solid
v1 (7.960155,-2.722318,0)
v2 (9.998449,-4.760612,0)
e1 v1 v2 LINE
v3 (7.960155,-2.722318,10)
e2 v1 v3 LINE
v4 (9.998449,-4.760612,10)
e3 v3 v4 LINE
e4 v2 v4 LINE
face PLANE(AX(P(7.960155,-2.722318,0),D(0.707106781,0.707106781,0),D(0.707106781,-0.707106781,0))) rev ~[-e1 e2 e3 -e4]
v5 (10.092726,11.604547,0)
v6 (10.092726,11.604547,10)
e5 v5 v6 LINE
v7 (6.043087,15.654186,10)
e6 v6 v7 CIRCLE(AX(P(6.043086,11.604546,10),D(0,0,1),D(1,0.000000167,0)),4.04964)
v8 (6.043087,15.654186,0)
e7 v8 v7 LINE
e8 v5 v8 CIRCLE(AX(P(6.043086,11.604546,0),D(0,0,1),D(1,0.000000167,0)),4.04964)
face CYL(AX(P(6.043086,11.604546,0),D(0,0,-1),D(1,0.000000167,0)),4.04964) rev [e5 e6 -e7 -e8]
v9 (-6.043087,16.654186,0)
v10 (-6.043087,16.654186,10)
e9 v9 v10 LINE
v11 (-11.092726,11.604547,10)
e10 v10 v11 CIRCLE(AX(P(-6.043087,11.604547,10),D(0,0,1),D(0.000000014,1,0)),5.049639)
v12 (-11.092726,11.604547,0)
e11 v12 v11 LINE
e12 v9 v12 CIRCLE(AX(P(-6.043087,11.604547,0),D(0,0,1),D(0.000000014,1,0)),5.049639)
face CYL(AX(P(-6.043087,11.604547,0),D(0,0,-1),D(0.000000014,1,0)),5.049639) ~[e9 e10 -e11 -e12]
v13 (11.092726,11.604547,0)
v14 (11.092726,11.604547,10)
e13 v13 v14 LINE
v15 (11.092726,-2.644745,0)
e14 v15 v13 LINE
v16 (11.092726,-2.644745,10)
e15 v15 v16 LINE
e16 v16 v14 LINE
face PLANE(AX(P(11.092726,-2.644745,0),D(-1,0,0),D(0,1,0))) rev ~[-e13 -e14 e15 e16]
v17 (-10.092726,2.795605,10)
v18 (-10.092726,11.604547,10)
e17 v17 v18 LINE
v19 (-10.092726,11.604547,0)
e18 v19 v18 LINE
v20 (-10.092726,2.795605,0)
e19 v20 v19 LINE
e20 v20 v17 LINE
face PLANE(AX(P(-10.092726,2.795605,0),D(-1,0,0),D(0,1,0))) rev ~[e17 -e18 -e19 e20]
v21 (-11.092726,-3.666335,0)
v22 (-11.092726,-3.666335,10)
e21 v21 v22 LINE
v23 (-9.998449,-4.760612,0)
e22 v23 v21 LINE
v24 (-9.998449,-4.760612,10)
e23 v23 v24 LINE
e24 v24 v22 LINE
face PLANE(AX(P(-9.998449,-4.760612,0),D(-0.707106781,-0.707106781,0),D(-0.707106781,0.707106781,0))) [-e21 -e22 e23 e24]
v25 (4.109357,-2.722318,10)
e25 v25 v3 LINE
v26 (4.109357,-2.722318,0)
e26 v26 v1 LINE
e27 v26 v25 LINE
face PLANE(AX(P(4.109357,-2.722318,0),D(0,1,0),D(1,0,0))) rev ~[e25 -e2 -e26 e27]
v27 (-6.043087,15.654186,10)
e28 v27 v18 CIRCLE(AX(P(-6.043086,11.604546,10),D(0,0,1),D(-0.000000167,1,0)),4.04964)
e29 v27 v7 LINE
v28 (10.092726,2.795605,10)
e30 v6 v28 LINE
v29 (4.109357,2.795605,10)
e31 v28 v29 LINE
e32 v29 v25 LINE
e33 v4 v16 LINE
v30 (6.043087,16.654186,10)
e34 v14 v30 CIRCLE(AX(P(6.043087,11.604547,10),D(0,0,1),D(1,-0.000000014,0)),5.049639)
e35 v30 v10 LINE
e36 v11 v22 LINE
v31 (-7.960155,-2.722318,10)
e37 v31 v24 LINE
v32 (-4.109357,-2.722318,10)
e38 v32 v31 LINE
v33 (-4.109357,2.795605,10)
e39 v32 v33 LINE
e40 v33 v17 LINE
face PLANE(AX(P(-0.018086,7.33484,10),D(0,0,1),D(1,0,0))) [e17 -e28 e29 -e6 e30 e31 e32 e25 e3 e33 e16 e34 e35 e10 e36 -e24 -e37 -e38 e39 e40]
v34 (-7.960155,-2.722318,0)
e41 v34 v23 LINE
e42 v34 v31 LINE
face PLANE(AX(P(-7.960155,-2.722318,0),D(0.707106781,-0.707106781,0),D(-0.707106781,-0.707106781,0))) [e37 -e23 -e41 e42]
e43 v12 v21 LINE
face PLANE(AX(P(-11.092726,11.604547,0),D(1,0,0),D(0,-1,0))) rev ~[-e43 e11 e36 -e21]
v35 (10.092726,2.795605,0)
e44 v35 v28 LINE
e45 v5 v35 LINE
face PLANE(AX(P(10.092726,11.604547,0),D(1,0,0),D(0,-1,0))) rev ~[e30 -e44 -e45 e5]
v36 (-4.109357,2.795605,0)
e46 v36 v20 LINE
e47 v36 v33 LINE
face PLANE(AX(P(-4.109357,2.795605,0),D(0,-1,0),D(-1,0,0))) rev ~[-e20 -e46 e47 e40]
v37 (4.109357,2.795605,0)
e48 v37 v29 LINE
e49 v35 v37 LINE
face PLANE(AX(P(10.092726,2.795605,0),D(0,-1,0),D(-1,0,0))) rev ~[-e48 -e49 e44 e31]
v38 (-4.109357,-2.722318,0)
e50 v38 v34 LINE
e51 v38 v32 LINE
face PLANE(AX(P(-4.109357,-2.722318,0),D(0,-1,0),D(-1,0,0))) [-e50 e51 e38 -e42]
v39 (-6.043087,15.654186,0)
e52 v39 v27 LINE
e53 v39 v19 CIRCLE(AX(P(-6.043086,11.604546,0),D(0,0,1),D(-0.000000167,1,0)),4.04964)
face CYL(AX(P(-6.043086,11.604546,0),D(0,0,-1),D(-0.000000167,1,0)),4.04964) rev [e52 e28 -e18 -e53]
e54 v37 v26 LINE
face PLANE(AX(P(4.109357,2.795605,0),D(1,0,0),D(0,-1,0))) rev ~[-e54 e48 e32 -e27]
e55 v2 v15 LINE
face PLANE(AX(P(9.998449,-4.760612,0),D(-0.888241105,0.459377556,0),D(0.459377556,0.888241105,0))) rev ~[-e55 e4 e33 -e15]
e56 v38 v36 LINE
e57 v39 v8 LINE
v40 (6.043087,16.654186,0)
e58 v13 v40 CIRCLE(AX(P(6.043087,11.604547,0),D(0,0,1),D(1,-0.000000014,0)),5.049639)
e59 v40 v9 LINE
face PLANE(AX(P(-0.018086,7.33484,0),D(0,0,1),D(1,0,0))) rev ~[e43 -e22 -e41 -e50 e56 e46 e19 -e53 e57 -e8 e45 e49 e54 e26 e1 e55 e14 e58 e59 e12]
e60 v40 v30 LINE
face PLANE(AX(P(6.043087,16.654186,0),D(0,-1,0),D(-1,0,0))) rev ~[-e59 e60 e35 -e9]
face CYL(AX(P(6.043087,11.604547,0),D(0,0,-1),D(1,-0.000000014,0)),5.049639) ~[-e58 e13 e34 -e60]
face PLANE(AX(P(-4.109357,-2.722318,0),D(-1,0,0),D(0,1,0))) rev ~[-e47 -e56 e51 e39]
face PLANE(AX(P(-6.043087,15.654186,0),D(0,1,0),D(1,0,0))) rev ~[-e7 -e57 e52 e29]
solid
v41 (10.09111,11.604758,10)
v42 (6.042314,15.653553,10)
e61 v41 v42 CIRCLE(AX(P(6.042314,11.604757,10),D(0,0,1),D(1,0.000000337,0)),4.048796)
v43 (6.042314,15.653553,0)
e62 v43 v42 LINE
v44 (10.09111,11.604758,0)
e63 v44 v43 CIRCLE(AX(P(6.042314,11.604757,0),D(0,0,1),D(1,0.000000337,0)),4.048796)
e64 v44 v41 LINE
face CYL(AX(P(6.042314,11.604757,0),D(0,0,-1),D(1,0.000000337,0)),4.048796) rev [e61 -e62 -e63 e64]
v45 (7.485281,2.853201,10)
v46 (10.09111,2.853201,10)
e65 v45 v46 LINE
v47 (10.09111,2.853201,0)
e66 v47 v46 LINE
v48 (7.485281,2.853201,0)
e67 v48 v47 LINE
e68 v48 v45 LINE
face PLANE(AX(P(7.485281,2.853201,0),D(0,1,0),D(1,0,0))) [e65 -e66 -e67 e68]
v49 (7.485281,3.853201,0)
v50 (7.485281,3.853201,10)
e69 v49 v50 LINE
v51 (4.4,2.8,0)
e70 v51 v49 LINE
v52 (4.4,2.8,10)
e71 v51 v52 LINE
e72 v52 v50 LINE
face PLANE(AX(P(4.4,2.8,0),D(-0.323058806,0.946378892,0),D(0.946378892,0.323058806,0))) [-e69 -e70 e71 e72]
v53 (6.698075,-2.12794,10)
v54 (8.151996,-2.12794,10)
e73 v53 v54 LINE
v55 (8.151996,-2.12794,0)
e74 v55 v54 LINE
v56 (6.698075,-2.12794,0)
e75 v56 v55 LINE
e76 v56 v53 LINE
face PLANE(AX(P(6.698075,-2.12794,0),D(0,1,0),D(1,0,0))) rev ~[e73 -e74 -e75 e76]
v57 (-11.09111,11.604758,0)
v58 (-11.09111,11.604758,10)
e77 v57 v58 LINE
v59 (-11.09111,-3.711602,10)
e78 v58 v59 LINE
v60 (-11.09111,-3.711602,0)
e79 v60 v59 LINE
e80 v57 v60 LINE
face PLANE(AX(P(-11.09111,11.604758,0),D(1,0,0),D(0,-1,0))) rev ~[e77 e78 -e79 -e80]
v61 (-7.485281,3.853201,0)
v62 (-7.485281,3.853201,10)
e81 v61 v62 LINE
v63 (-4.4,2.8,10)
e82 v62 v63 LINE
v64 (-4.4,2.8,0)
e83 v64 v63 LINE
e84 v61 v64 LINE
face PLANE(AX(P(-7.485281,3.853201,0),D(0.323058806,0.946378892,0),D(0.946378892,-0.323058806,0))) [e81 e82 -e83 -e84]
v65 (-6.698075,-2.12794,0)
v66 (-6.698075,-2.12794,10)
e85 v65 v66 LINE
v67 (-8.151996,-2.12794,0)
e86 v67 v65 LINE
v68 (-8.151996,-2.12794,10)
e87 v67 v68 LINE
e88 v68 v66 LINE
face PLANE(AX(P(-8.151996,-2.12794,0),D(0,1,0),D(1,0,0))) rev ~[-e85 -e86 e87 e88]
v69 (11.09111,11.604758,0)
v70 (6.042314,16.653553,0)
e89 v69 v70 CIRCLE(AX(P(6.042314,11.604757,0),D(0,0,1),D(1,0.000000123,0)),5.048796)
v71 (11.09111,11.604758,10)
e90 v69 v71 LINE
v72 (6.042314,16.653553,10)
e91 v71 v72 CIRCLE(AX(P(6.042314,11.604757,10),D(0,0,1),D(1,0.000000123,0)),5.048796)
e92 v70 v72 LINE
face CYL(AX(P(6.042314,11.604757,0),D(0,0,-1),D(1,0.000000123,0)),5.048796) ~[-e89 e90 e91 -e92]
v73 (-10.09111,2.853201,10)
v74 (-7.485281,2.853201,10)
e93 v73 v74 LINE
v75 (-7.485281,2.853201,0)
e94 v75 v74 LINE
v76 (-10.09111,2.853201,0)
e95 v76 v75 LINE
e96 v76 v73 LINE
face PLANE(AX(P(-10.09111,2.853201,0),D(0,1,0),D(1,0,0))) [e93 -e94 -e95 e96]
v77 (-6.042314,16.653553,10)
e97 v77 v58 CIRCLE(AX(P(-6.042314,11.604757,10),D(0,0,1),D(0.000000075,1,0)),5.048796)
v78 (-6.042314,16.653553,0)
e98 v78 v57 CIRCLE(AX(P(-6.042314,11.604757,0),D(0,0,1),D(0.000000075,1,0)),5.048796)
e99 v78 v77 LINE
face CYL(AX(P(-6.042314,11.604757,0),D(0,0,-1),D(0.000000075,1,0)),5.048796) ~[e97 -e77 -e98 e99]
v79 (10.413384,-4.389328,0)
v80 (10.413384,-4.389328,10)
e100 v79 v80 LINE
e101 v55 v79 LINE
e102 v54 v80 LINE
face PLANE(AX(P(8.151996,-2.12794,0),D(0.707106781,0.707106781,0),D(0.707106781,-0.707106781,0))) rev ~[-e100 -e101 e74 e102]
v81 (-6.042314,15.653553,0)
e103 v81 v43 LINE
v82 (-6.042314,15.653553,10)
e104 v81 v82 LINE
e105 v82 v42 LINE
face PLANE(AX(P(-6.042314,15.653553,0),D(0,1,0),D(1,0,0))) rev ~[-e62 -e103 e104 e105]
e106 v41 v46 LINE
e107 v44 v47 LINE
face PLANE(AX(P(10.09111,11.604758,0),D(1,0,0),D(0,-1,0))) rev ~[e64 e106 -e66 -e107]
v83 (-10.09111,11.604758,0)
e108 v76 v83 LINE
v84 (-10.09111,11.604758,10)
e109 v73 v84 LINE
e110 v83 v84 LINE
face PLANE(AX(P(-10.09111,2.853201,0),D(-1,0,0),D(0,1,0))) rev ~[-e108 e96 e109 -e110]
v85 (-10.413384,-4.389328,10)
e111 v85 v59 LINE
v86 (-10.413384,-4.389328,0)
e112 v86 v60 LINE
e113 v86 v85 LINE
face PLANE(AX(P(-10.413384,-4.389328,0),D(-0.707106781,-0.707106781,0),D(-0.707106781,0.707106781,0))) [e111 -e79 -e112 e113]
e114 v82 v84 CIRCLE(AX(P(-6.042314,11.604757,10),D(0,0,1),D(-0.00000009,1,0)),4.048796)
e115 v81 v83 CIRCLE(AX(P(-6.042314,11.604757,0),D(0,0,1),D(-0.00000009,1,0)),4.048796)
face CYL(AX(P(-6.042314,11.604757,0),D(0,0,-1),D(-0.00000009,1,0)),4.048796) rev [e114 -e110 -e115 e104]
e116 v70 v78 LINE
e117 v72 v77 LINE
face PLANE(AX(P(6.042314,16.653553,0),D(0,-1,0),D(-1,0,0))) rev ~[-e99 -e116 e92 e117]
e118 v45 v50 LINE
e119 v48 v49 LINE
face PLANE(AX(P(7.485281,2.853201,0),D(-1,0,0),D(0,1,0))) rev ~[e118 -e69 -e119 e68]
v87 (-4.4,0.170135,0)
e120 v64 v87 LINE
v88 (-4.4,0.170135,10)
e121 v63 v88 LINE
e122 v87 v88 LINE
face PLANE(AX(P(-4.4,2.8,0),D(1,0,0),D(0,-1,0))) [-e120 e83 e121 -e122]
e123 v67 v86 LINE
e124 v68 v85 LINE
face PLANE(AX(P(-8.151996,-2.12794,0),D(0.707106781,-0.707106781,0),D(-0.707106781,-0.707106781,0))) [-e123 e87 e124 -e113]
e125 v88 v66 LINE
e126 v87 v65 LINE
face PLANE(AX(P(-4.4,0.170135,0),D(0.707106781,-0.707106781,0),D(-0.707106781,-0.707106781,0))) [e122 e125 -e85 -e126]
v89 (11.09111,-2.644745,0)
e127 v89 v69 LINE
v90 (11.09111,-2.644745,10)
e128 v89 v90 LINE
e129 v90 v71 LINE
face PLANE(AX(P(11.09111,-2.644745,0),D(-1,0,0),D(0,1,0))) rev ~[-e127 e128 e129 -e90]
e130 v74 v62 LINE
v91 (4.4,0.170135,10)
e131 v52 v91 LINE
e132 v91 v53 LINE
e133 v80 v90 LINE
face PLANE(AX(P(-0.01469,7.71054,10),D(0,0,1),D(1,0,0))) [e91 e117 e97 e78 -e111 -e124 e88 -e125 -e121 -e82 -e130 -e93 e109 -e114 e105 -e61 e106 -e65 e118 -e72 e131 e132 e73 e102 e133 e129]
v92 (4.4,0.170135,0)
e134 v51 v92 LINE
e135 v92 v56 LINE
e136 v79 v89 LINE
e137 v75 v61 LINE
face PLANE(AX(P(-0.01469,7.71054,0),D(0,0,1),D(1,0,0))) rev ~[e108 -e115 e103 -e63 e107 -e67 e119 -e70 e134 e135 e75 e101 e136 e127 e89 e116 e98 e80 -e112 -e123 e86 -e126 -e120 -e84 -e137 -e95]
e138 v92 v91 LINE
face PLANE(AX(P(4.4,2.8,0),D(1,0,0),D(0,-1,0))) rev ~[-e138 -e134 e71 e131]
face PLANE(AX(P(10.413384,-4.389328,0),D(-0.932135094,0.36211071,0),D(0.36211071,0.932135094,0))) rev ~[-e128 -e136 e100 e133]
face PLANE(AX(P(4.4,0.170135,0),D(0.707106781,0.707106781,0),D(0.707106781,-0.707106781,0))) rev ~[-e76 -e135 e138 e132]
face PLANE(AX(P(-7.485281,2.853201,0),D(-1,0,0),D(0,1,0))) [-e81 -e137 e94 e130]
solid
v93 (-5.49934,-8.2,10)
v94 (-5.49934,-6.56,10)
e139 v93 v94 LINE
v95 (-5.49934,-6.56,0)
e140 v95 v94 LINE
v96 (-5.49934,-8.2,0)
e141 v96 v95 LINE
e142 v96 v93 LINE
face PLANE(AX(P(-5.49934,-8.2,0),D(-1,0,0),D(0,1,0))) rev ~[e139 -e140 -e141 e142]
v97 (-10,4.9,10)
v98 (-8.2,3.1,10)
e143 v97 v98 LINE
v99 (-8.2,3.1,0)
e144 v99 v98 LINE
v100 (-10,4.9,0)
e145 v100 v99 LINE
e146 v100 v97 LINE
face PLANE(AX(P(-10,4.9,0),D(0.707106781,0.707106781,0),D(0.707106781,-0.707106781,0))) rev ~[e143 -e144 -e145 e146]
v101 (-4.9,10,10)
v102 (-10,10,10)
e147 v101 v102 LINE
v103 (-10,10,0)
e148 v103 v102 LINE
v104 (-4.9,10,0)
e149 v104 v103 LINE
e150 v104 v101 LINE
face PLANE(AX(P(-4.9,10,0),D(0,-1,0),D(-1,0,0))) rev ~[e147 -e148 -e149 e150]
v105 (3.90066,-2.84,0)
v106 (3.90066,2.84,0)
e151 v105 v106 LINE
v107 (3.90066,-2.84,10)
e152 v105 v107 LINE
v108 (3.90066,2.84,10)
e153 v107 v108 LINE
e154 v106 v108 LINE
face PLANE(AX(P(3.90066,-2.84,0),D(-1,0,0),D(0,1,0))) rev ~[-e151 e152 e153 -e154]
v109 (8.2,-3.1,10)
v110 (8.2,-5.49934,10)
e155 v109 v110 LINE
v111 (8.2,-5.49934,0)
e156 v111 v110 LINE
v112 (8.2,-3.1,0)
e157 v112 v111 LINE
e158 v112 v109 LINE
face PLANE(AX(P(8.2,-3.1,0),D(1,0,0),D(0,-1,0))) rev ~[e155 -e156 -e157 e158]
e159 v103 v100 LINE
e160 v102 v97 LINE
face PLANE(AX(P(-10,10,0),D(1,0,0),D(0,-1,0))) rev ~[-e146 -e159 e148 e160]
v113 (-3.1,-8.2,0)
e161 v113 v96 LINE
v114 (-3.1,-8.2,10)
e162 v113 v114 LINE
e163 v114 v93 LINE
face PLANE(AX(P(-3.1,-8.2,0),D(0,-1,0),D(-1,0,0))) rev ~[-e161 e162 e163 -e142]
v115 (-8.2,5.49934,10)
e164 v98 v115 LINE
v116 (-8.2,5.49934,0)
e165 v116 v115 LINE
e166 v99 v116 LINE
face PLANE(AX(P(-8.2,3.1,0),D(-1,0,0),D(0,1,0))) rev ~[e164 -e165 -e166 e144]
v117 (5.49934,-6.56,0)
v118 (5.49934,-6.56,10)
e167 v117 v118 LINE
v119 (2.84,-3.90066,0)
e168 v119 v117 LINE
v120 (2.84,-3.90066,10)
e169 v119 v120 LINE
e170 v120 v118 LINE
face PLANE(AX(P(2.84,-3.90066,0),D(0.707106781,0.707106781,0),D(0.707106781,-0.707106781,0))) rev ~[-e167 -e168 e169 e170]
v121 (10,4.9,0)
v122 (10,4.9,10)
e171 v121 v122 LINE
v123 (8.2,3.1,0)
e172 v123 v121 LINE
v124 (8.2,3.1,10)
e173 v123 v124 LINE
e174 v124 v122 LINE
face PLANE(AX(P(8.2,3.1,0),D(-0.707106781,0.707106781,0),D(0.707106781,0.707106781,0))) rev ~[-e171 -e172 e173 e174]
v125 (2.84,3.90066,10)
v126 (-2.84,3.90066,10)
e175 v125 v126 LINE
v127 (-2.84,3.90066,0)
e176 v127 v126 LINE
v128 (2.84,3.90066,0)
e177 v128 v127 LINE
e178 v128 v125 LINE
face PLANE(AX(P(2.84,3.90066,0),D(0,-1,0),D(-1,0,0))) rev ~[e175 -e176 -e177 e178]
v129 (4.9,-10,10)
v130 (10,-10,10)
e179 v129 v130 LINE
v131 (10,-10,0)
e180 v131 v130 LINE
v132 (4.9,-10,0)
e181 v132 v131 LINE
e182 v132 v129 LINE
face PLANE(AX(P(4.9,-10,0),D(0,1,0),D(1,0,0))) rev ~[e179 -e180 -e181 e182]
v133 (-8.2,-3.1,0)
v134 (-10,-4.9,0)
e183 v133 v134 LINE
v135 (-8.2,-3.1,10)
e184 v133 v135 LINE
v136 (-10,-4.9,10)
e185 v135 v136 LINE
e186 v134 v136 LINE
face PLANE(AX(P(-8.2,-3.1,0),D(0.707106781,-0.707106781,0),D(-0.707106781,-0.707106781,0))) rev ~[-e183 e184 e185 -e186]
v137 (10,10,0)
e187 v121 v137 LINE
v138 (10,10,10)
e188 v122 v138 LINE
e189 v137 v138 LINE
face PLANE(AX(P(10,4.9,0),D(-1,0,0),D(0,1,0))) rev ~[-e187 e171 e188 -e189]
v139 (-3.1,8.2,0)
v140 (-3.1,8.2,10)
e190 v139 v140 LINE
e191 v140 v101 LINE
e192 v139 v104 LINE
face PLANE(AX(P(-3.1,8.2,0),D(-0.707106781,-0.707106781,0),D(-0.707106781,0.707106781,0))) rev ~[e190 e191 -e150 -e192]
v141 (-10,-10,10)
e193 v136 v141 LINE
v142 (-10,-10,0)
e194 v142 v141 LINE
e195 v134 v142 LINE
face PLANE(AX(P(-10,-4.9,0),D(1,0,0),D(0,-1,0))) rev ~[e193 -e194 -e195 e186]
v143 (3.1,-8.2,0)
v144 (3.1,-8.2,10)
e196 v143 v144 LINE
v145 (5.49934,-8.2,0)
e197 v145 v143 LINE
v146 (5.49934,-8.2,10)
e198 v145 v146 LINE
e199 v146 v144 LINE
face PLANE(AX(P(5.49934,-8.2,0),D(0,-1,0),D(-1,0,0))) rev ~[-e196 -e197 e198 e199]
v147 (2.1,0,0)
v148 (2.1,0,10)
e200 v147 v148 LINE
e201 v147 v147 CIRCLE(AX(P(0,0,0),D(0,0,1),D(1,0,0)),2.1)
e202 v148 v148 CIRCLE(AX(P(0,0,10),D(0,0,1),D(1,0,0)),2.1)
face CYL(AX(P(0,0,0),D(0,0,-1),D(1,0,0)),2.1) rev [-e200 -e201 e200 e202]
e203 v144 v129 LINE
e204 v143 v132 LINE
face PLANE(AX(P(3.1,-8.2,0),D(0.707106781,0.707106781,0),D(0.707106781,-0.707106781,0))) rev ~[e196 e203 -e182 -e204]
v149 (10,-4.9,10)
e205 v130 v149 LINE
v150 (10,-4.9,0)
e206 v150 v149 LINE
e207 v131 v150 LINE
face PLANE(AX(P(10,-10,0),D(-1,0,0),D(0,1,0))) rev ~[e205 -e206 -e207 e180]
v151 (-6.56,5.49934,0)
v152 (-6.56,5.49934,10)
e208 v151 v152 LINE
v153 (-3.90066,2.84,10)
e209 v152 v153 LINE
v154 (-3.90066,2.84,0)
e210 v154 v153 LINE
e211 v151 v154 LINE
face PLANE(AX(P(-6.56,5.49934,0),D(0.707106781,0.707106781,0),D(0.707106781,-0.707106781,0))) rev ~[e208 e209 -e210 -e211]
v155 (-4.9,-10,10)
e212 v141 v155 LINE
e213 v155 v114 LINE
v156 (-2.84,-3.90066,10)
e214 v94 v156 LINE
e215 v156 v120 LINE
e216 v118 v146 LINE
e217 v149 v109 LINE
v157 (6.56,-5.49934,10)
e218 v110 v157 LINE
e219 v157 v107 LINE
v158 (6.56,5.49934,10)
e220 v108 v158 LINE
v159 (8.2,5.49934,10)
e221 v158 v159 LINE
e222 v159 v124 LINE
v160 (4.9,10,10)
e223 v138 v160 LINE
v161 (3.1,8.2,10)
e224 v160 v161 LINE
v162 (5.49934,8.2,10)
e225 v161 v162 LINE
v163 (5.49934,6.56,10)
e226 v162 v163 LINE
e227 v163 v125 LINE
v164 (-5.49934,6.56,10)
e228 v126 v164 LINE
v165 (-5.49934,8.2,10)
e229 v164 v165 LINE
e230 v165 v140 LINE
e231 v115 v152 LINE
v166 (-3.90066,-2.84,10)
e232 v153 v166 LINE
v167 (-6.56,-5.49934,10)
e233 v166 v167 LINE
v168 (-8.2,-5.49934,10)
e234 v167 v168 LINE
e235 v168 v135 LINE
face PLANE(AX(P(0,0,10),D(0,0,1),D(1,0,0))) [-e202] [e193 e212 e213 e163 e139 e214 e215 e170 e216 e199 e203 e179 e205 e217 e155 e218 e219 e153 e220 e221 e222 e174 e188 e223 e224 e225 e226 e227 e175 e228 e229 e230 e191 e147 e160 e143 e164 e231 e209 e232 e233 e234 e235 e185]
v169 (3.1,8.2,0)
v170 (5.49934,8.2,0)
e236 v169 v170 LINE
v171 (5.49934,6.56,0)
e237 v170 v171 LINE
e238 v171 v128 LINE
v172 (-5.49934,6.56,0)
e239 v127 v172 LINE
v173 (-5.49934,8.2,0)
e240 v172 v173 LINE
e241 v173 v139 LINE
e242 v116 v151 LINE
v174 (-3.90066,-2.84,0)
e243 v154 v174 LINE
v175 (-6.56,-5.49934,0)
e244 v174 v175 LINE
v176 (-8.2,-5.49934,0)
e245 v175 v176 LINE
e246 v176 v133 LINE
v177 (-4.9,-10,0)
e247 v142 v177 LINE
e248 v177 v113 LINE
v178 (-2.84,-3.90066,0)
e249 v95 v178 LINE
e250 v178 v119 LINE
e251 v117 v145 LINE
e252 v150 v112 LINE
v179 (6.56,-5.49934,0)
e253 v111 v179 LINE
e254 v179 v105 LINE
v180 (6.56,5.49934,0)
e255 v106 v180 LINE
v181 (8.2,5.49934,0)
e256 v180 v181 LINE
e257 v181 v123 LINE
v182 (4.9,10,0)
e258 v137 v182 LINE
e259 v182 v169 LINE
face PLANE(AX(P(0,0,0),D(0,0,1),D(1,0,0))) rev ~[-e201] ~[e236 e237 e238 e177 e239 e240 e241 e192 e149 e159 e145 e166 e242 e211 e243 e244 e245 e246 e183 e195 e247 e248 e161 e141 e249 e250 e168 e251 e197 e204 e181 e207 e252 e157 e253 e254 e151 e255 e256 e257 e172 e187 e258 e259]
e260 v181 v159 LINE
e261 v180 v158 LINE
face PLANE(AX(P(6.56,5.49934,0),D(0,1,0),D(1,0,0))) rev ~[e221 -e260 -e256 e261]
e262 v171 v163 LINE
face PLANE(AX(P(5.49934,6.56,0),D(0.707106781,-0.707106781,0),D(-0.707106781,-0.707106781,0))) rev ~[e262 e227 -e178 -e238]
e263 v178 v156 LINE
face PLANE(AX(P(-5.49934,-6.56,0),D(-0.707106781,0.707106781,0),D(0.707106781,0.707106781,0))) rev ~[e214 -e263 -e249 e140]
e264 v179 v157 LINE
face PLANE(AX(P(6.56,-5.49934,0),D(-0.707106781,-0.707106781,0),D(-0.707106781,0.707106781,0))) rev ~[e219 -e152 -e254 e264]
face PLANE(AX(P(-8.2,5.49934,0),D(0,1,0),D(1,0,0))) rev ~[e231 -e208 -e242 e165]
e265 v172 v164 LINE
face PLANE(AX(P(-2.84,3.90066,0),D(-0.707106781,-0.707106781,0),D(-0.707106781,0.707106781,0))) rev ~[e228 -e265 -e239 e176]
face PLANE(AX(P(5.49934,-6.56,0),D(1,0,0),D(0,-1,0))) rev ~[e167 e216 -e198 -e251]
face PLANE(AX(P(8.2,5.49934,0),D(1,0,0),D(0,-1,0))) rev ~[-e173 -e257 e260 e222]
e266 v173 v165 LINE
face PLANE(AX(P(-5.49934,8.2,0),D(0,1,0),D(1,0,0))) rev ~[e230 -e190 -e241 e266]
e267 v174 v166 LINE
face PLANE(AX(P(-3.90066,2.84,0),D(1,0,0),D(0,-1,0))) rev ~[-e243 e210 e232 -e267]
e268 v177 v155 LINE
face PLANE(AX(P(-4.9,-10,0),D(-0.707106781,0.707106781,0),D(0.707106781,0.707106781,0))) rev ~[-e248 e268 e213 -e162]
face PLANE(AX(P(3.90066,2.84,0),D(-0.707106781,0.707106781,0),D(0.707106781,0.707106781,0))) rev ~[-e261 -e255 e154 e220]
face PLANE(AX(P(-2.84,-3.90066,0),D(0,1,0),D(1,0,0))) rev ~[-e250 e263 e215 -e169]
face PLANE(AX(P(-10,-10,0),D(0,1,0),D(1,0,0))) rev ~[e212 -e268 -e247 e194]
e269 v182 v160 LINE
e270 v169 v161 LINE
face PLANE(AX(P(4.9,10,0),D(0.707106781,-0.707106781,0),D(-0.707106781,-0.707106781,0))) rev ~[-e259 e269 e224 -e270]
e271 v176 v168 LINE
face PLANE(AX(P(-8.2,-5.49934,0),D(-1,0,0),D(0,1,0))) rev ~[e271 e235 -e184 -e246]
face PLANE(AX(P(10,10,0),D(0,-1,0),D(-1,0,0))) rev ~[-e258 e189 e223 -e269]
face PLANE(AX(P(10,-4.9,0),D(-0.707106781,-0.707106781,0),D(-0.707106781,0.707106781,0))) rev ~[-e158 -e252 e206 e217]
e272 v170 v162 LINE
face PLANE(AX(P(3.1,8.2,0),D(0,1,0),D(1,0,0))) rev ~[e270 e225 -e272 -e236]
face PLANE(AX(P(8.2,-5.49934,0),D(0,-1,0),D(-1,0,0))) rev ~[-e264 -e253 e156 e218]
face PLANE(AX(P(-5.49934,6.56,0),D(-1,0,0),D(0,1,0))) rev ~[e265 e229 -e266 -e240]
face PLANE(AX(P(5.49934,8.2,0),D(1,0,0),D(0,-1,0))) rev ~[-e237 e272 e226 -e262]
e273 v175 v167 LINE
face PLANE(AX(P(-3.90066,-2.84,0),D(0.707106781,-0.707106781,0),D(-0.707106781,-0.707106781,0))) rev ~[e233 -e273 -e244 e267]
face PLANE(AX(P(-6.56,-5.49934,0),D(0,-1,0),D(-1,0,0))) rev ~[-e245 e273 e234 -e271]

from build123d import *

# Parameters (mm, degrees)
SKETCH_R      = 2.1
EXTRUDE_DEPTH = 10
PAD_DEPTH     = 10
PAD001_DEPTH  = 10


with BuildPart() as extrude_body:
    # Sketch → Extrude (new body)
    with BuildSketch(Plane.XY):
        Polygon((-2.84, 3.90066), (-5.49934, 6.56), (-5.49934, 8.2), (-3.1, 8.2), (-4.9, 10), (-10, 10), (-10, 4.9), (-8.2, 3.1), (-8.2, 5.49934), (-6.56, 5.49934), (-3.90066, 2.84), (-3.90066, 0), (-3.90066, -2.84), (-6.56, -5.49934), (-8.2, -5.49934), (-8.2, -3.1), (-10, -4.9), (-10, -10), (-4.9, -10), (-3.1, -8.2), (-5.49934, -8.2), (-5.49934, -6.56), (-2.84, -3.90066), (0, -3.90066), (2.84, -3.90066), (5.49934, -6.56), (5.49934, -8.2), (3.1, -8.2), (4.9, -10), (10, -10), (10, -4.9), (8.2, -3.1), (8.2, -5.49934), (6.56, -5.49934), (3.90066, -2.84), (3.90066, 0), (3.90066, 2.84), (6.56, 5.49934), (8.2, 5.49934), (8.2, 3.1), (10, 4.9), (10, 10), (4.9, 10), (3.1, 8.2), (5.49934, 8.2), (5.49934, 6.56), (2.84, 3.90066), (0, 3.90066), align=None)
        Circle(SKETCH_R, mode=Mode.SUBTRACT)
    extrude(amount=EXTRUDE_DEPTH)


with BuildPart() as body:
    # Sketch001 → Pad (new body)
    with BuildSketch(Plane.XY):
        with BuildLine():
            Line((-4.109357, 2.795605), (-10.092726, 2.795605))
            Line((-10.092726, 2.795605), (-10.092726, 11.604547))
            ThreePointArc((-6.043087, 15.654186), (-8.906614, 14.468074), (-10.092726, 11.604547))
            Line((-6.043087, 15.654186), (6.043087, 15.654186))
            ThreePointArc((10.092726, 11.604547), (8.906614, 14.468074), (6.043087, 15.654186))
            Line((10.092726, 11.604547), (10.092726, 2.795605))
            Line((10.092726, 2.795605), (4.109357, 2.795605))
            Line((4.109357, 2.795605), (4.109357, -2.722318))
            Line((4.109357, -2.722318), (7.960155, -2.722318))
            Line((7.960155, -2.722318), (9.998449, -4.760612))
            Line((9.998449, -4.760612), (11.092726, -2.644745))
            Line((11.092726, -2.644745), (11.092726, 11.604547))
            ThreePointArc((11.092726, 11.604547), (9.613721, 15.175181), (6.043087, 16.654186))
            Line((6.043087, 16.654186), (-6.043087, 16.654186))
            ThreePointArc((-6.043087, 16.654186), (-9.613721, 15.175181), (-11.092726, 11.604547))
            Line((-11.092726, 11.604547), (-11.092726, -3.666335))
            Line((-9.998449, -4.760612), (-11.092726, -3.666335))
            Line((-7.960155, -2.722318), (-9.998449, -4.760612))
            Line((-4.109357, -2.722318), (-7.960155, -2.722318))
            Line((-4.109357, -2.722318), (-4.109357, 2.795605))
        make_face()
    extrude(amount=PAD_DEPTH)


with BuildPart() as body001:
    # Sketch002 → Pad001 (new body)
    with BuildSketch(Plane.XY):
        with BuildLine():
            Line((-10.09111, 2.853201), (-10.09111, 11.604758))
            ThreePointArc((-6.042314, 15.653553), (-8.905245, 14.467688), (-10.09111, 11.604758))
            Line((-6.042314, 15.653553), (6.042314, 15.653553))
            ThreePointArc((10.09111, 11.604758), (8.905245, 14.467688), (6.042314, 15.653553))
            Line((10.09111, 11.604758), (10.09111, 2.853201))
            Line((7.485281, 2.853201), (10.09111, 2.853201))
            Line((7.485281, 2.853201), (7.485281, 3.853201))
            Line((4.4, 2.8), (7.485281, 3.853201))
            Line((4.4, 2.8), (4.4, 0.170135))
            Line((4.4, 0.170135), (6.698075, -2.12794))
            Line((6.698075, -2.12794), (8.151996, -2.12794))
            Line((8.151996, -2.12794), (10.413384, -4.389328))
            Line((10.413384, -4.389328), (11.09111, -2.644745))
            Line((11.09111, -2.644745), (11.09111, 11.604758))
            ThreePointArc((11.09111, 11.604758), (9.612352, 15.174795), (6.042314, 16.653553))
            Line((6.042314, 16.653553), (-6.042314, 16.653553))
            ThreePointArc((-6.042314, 16.653553), (-9.612352, 15.174795), (-11.09111, 11.604758))
            Line((-11.09111, 11.604758), (-11.09111, -3.711602))
            Line((-10.413384, -4.389328), (-11.09111, -3.711602))
            Line((-8.151996, -2.12794), (-10.413384, -4.389328))
            Line((-8.151996, -2.12794), (-6.698075, -2.12794))
            Line((-4.4, 0.170135), (-6.698075, -2.12794))
            Line((-4.4, 2.8), (-4.4, 0.170135))
            Line((-7.485281, 3.853201), (-4.4, 2.8))
            Line((-7.485281, 2.853201), (-7.485281, 3.853201))
            Line((-10.09111, 2.853201), (-7.485281, 2.853201))
        make_face()
    extrude(amount=PAD001_DEPTH)


solid = Compound([extrude_body.part, body.part, body001.part])
